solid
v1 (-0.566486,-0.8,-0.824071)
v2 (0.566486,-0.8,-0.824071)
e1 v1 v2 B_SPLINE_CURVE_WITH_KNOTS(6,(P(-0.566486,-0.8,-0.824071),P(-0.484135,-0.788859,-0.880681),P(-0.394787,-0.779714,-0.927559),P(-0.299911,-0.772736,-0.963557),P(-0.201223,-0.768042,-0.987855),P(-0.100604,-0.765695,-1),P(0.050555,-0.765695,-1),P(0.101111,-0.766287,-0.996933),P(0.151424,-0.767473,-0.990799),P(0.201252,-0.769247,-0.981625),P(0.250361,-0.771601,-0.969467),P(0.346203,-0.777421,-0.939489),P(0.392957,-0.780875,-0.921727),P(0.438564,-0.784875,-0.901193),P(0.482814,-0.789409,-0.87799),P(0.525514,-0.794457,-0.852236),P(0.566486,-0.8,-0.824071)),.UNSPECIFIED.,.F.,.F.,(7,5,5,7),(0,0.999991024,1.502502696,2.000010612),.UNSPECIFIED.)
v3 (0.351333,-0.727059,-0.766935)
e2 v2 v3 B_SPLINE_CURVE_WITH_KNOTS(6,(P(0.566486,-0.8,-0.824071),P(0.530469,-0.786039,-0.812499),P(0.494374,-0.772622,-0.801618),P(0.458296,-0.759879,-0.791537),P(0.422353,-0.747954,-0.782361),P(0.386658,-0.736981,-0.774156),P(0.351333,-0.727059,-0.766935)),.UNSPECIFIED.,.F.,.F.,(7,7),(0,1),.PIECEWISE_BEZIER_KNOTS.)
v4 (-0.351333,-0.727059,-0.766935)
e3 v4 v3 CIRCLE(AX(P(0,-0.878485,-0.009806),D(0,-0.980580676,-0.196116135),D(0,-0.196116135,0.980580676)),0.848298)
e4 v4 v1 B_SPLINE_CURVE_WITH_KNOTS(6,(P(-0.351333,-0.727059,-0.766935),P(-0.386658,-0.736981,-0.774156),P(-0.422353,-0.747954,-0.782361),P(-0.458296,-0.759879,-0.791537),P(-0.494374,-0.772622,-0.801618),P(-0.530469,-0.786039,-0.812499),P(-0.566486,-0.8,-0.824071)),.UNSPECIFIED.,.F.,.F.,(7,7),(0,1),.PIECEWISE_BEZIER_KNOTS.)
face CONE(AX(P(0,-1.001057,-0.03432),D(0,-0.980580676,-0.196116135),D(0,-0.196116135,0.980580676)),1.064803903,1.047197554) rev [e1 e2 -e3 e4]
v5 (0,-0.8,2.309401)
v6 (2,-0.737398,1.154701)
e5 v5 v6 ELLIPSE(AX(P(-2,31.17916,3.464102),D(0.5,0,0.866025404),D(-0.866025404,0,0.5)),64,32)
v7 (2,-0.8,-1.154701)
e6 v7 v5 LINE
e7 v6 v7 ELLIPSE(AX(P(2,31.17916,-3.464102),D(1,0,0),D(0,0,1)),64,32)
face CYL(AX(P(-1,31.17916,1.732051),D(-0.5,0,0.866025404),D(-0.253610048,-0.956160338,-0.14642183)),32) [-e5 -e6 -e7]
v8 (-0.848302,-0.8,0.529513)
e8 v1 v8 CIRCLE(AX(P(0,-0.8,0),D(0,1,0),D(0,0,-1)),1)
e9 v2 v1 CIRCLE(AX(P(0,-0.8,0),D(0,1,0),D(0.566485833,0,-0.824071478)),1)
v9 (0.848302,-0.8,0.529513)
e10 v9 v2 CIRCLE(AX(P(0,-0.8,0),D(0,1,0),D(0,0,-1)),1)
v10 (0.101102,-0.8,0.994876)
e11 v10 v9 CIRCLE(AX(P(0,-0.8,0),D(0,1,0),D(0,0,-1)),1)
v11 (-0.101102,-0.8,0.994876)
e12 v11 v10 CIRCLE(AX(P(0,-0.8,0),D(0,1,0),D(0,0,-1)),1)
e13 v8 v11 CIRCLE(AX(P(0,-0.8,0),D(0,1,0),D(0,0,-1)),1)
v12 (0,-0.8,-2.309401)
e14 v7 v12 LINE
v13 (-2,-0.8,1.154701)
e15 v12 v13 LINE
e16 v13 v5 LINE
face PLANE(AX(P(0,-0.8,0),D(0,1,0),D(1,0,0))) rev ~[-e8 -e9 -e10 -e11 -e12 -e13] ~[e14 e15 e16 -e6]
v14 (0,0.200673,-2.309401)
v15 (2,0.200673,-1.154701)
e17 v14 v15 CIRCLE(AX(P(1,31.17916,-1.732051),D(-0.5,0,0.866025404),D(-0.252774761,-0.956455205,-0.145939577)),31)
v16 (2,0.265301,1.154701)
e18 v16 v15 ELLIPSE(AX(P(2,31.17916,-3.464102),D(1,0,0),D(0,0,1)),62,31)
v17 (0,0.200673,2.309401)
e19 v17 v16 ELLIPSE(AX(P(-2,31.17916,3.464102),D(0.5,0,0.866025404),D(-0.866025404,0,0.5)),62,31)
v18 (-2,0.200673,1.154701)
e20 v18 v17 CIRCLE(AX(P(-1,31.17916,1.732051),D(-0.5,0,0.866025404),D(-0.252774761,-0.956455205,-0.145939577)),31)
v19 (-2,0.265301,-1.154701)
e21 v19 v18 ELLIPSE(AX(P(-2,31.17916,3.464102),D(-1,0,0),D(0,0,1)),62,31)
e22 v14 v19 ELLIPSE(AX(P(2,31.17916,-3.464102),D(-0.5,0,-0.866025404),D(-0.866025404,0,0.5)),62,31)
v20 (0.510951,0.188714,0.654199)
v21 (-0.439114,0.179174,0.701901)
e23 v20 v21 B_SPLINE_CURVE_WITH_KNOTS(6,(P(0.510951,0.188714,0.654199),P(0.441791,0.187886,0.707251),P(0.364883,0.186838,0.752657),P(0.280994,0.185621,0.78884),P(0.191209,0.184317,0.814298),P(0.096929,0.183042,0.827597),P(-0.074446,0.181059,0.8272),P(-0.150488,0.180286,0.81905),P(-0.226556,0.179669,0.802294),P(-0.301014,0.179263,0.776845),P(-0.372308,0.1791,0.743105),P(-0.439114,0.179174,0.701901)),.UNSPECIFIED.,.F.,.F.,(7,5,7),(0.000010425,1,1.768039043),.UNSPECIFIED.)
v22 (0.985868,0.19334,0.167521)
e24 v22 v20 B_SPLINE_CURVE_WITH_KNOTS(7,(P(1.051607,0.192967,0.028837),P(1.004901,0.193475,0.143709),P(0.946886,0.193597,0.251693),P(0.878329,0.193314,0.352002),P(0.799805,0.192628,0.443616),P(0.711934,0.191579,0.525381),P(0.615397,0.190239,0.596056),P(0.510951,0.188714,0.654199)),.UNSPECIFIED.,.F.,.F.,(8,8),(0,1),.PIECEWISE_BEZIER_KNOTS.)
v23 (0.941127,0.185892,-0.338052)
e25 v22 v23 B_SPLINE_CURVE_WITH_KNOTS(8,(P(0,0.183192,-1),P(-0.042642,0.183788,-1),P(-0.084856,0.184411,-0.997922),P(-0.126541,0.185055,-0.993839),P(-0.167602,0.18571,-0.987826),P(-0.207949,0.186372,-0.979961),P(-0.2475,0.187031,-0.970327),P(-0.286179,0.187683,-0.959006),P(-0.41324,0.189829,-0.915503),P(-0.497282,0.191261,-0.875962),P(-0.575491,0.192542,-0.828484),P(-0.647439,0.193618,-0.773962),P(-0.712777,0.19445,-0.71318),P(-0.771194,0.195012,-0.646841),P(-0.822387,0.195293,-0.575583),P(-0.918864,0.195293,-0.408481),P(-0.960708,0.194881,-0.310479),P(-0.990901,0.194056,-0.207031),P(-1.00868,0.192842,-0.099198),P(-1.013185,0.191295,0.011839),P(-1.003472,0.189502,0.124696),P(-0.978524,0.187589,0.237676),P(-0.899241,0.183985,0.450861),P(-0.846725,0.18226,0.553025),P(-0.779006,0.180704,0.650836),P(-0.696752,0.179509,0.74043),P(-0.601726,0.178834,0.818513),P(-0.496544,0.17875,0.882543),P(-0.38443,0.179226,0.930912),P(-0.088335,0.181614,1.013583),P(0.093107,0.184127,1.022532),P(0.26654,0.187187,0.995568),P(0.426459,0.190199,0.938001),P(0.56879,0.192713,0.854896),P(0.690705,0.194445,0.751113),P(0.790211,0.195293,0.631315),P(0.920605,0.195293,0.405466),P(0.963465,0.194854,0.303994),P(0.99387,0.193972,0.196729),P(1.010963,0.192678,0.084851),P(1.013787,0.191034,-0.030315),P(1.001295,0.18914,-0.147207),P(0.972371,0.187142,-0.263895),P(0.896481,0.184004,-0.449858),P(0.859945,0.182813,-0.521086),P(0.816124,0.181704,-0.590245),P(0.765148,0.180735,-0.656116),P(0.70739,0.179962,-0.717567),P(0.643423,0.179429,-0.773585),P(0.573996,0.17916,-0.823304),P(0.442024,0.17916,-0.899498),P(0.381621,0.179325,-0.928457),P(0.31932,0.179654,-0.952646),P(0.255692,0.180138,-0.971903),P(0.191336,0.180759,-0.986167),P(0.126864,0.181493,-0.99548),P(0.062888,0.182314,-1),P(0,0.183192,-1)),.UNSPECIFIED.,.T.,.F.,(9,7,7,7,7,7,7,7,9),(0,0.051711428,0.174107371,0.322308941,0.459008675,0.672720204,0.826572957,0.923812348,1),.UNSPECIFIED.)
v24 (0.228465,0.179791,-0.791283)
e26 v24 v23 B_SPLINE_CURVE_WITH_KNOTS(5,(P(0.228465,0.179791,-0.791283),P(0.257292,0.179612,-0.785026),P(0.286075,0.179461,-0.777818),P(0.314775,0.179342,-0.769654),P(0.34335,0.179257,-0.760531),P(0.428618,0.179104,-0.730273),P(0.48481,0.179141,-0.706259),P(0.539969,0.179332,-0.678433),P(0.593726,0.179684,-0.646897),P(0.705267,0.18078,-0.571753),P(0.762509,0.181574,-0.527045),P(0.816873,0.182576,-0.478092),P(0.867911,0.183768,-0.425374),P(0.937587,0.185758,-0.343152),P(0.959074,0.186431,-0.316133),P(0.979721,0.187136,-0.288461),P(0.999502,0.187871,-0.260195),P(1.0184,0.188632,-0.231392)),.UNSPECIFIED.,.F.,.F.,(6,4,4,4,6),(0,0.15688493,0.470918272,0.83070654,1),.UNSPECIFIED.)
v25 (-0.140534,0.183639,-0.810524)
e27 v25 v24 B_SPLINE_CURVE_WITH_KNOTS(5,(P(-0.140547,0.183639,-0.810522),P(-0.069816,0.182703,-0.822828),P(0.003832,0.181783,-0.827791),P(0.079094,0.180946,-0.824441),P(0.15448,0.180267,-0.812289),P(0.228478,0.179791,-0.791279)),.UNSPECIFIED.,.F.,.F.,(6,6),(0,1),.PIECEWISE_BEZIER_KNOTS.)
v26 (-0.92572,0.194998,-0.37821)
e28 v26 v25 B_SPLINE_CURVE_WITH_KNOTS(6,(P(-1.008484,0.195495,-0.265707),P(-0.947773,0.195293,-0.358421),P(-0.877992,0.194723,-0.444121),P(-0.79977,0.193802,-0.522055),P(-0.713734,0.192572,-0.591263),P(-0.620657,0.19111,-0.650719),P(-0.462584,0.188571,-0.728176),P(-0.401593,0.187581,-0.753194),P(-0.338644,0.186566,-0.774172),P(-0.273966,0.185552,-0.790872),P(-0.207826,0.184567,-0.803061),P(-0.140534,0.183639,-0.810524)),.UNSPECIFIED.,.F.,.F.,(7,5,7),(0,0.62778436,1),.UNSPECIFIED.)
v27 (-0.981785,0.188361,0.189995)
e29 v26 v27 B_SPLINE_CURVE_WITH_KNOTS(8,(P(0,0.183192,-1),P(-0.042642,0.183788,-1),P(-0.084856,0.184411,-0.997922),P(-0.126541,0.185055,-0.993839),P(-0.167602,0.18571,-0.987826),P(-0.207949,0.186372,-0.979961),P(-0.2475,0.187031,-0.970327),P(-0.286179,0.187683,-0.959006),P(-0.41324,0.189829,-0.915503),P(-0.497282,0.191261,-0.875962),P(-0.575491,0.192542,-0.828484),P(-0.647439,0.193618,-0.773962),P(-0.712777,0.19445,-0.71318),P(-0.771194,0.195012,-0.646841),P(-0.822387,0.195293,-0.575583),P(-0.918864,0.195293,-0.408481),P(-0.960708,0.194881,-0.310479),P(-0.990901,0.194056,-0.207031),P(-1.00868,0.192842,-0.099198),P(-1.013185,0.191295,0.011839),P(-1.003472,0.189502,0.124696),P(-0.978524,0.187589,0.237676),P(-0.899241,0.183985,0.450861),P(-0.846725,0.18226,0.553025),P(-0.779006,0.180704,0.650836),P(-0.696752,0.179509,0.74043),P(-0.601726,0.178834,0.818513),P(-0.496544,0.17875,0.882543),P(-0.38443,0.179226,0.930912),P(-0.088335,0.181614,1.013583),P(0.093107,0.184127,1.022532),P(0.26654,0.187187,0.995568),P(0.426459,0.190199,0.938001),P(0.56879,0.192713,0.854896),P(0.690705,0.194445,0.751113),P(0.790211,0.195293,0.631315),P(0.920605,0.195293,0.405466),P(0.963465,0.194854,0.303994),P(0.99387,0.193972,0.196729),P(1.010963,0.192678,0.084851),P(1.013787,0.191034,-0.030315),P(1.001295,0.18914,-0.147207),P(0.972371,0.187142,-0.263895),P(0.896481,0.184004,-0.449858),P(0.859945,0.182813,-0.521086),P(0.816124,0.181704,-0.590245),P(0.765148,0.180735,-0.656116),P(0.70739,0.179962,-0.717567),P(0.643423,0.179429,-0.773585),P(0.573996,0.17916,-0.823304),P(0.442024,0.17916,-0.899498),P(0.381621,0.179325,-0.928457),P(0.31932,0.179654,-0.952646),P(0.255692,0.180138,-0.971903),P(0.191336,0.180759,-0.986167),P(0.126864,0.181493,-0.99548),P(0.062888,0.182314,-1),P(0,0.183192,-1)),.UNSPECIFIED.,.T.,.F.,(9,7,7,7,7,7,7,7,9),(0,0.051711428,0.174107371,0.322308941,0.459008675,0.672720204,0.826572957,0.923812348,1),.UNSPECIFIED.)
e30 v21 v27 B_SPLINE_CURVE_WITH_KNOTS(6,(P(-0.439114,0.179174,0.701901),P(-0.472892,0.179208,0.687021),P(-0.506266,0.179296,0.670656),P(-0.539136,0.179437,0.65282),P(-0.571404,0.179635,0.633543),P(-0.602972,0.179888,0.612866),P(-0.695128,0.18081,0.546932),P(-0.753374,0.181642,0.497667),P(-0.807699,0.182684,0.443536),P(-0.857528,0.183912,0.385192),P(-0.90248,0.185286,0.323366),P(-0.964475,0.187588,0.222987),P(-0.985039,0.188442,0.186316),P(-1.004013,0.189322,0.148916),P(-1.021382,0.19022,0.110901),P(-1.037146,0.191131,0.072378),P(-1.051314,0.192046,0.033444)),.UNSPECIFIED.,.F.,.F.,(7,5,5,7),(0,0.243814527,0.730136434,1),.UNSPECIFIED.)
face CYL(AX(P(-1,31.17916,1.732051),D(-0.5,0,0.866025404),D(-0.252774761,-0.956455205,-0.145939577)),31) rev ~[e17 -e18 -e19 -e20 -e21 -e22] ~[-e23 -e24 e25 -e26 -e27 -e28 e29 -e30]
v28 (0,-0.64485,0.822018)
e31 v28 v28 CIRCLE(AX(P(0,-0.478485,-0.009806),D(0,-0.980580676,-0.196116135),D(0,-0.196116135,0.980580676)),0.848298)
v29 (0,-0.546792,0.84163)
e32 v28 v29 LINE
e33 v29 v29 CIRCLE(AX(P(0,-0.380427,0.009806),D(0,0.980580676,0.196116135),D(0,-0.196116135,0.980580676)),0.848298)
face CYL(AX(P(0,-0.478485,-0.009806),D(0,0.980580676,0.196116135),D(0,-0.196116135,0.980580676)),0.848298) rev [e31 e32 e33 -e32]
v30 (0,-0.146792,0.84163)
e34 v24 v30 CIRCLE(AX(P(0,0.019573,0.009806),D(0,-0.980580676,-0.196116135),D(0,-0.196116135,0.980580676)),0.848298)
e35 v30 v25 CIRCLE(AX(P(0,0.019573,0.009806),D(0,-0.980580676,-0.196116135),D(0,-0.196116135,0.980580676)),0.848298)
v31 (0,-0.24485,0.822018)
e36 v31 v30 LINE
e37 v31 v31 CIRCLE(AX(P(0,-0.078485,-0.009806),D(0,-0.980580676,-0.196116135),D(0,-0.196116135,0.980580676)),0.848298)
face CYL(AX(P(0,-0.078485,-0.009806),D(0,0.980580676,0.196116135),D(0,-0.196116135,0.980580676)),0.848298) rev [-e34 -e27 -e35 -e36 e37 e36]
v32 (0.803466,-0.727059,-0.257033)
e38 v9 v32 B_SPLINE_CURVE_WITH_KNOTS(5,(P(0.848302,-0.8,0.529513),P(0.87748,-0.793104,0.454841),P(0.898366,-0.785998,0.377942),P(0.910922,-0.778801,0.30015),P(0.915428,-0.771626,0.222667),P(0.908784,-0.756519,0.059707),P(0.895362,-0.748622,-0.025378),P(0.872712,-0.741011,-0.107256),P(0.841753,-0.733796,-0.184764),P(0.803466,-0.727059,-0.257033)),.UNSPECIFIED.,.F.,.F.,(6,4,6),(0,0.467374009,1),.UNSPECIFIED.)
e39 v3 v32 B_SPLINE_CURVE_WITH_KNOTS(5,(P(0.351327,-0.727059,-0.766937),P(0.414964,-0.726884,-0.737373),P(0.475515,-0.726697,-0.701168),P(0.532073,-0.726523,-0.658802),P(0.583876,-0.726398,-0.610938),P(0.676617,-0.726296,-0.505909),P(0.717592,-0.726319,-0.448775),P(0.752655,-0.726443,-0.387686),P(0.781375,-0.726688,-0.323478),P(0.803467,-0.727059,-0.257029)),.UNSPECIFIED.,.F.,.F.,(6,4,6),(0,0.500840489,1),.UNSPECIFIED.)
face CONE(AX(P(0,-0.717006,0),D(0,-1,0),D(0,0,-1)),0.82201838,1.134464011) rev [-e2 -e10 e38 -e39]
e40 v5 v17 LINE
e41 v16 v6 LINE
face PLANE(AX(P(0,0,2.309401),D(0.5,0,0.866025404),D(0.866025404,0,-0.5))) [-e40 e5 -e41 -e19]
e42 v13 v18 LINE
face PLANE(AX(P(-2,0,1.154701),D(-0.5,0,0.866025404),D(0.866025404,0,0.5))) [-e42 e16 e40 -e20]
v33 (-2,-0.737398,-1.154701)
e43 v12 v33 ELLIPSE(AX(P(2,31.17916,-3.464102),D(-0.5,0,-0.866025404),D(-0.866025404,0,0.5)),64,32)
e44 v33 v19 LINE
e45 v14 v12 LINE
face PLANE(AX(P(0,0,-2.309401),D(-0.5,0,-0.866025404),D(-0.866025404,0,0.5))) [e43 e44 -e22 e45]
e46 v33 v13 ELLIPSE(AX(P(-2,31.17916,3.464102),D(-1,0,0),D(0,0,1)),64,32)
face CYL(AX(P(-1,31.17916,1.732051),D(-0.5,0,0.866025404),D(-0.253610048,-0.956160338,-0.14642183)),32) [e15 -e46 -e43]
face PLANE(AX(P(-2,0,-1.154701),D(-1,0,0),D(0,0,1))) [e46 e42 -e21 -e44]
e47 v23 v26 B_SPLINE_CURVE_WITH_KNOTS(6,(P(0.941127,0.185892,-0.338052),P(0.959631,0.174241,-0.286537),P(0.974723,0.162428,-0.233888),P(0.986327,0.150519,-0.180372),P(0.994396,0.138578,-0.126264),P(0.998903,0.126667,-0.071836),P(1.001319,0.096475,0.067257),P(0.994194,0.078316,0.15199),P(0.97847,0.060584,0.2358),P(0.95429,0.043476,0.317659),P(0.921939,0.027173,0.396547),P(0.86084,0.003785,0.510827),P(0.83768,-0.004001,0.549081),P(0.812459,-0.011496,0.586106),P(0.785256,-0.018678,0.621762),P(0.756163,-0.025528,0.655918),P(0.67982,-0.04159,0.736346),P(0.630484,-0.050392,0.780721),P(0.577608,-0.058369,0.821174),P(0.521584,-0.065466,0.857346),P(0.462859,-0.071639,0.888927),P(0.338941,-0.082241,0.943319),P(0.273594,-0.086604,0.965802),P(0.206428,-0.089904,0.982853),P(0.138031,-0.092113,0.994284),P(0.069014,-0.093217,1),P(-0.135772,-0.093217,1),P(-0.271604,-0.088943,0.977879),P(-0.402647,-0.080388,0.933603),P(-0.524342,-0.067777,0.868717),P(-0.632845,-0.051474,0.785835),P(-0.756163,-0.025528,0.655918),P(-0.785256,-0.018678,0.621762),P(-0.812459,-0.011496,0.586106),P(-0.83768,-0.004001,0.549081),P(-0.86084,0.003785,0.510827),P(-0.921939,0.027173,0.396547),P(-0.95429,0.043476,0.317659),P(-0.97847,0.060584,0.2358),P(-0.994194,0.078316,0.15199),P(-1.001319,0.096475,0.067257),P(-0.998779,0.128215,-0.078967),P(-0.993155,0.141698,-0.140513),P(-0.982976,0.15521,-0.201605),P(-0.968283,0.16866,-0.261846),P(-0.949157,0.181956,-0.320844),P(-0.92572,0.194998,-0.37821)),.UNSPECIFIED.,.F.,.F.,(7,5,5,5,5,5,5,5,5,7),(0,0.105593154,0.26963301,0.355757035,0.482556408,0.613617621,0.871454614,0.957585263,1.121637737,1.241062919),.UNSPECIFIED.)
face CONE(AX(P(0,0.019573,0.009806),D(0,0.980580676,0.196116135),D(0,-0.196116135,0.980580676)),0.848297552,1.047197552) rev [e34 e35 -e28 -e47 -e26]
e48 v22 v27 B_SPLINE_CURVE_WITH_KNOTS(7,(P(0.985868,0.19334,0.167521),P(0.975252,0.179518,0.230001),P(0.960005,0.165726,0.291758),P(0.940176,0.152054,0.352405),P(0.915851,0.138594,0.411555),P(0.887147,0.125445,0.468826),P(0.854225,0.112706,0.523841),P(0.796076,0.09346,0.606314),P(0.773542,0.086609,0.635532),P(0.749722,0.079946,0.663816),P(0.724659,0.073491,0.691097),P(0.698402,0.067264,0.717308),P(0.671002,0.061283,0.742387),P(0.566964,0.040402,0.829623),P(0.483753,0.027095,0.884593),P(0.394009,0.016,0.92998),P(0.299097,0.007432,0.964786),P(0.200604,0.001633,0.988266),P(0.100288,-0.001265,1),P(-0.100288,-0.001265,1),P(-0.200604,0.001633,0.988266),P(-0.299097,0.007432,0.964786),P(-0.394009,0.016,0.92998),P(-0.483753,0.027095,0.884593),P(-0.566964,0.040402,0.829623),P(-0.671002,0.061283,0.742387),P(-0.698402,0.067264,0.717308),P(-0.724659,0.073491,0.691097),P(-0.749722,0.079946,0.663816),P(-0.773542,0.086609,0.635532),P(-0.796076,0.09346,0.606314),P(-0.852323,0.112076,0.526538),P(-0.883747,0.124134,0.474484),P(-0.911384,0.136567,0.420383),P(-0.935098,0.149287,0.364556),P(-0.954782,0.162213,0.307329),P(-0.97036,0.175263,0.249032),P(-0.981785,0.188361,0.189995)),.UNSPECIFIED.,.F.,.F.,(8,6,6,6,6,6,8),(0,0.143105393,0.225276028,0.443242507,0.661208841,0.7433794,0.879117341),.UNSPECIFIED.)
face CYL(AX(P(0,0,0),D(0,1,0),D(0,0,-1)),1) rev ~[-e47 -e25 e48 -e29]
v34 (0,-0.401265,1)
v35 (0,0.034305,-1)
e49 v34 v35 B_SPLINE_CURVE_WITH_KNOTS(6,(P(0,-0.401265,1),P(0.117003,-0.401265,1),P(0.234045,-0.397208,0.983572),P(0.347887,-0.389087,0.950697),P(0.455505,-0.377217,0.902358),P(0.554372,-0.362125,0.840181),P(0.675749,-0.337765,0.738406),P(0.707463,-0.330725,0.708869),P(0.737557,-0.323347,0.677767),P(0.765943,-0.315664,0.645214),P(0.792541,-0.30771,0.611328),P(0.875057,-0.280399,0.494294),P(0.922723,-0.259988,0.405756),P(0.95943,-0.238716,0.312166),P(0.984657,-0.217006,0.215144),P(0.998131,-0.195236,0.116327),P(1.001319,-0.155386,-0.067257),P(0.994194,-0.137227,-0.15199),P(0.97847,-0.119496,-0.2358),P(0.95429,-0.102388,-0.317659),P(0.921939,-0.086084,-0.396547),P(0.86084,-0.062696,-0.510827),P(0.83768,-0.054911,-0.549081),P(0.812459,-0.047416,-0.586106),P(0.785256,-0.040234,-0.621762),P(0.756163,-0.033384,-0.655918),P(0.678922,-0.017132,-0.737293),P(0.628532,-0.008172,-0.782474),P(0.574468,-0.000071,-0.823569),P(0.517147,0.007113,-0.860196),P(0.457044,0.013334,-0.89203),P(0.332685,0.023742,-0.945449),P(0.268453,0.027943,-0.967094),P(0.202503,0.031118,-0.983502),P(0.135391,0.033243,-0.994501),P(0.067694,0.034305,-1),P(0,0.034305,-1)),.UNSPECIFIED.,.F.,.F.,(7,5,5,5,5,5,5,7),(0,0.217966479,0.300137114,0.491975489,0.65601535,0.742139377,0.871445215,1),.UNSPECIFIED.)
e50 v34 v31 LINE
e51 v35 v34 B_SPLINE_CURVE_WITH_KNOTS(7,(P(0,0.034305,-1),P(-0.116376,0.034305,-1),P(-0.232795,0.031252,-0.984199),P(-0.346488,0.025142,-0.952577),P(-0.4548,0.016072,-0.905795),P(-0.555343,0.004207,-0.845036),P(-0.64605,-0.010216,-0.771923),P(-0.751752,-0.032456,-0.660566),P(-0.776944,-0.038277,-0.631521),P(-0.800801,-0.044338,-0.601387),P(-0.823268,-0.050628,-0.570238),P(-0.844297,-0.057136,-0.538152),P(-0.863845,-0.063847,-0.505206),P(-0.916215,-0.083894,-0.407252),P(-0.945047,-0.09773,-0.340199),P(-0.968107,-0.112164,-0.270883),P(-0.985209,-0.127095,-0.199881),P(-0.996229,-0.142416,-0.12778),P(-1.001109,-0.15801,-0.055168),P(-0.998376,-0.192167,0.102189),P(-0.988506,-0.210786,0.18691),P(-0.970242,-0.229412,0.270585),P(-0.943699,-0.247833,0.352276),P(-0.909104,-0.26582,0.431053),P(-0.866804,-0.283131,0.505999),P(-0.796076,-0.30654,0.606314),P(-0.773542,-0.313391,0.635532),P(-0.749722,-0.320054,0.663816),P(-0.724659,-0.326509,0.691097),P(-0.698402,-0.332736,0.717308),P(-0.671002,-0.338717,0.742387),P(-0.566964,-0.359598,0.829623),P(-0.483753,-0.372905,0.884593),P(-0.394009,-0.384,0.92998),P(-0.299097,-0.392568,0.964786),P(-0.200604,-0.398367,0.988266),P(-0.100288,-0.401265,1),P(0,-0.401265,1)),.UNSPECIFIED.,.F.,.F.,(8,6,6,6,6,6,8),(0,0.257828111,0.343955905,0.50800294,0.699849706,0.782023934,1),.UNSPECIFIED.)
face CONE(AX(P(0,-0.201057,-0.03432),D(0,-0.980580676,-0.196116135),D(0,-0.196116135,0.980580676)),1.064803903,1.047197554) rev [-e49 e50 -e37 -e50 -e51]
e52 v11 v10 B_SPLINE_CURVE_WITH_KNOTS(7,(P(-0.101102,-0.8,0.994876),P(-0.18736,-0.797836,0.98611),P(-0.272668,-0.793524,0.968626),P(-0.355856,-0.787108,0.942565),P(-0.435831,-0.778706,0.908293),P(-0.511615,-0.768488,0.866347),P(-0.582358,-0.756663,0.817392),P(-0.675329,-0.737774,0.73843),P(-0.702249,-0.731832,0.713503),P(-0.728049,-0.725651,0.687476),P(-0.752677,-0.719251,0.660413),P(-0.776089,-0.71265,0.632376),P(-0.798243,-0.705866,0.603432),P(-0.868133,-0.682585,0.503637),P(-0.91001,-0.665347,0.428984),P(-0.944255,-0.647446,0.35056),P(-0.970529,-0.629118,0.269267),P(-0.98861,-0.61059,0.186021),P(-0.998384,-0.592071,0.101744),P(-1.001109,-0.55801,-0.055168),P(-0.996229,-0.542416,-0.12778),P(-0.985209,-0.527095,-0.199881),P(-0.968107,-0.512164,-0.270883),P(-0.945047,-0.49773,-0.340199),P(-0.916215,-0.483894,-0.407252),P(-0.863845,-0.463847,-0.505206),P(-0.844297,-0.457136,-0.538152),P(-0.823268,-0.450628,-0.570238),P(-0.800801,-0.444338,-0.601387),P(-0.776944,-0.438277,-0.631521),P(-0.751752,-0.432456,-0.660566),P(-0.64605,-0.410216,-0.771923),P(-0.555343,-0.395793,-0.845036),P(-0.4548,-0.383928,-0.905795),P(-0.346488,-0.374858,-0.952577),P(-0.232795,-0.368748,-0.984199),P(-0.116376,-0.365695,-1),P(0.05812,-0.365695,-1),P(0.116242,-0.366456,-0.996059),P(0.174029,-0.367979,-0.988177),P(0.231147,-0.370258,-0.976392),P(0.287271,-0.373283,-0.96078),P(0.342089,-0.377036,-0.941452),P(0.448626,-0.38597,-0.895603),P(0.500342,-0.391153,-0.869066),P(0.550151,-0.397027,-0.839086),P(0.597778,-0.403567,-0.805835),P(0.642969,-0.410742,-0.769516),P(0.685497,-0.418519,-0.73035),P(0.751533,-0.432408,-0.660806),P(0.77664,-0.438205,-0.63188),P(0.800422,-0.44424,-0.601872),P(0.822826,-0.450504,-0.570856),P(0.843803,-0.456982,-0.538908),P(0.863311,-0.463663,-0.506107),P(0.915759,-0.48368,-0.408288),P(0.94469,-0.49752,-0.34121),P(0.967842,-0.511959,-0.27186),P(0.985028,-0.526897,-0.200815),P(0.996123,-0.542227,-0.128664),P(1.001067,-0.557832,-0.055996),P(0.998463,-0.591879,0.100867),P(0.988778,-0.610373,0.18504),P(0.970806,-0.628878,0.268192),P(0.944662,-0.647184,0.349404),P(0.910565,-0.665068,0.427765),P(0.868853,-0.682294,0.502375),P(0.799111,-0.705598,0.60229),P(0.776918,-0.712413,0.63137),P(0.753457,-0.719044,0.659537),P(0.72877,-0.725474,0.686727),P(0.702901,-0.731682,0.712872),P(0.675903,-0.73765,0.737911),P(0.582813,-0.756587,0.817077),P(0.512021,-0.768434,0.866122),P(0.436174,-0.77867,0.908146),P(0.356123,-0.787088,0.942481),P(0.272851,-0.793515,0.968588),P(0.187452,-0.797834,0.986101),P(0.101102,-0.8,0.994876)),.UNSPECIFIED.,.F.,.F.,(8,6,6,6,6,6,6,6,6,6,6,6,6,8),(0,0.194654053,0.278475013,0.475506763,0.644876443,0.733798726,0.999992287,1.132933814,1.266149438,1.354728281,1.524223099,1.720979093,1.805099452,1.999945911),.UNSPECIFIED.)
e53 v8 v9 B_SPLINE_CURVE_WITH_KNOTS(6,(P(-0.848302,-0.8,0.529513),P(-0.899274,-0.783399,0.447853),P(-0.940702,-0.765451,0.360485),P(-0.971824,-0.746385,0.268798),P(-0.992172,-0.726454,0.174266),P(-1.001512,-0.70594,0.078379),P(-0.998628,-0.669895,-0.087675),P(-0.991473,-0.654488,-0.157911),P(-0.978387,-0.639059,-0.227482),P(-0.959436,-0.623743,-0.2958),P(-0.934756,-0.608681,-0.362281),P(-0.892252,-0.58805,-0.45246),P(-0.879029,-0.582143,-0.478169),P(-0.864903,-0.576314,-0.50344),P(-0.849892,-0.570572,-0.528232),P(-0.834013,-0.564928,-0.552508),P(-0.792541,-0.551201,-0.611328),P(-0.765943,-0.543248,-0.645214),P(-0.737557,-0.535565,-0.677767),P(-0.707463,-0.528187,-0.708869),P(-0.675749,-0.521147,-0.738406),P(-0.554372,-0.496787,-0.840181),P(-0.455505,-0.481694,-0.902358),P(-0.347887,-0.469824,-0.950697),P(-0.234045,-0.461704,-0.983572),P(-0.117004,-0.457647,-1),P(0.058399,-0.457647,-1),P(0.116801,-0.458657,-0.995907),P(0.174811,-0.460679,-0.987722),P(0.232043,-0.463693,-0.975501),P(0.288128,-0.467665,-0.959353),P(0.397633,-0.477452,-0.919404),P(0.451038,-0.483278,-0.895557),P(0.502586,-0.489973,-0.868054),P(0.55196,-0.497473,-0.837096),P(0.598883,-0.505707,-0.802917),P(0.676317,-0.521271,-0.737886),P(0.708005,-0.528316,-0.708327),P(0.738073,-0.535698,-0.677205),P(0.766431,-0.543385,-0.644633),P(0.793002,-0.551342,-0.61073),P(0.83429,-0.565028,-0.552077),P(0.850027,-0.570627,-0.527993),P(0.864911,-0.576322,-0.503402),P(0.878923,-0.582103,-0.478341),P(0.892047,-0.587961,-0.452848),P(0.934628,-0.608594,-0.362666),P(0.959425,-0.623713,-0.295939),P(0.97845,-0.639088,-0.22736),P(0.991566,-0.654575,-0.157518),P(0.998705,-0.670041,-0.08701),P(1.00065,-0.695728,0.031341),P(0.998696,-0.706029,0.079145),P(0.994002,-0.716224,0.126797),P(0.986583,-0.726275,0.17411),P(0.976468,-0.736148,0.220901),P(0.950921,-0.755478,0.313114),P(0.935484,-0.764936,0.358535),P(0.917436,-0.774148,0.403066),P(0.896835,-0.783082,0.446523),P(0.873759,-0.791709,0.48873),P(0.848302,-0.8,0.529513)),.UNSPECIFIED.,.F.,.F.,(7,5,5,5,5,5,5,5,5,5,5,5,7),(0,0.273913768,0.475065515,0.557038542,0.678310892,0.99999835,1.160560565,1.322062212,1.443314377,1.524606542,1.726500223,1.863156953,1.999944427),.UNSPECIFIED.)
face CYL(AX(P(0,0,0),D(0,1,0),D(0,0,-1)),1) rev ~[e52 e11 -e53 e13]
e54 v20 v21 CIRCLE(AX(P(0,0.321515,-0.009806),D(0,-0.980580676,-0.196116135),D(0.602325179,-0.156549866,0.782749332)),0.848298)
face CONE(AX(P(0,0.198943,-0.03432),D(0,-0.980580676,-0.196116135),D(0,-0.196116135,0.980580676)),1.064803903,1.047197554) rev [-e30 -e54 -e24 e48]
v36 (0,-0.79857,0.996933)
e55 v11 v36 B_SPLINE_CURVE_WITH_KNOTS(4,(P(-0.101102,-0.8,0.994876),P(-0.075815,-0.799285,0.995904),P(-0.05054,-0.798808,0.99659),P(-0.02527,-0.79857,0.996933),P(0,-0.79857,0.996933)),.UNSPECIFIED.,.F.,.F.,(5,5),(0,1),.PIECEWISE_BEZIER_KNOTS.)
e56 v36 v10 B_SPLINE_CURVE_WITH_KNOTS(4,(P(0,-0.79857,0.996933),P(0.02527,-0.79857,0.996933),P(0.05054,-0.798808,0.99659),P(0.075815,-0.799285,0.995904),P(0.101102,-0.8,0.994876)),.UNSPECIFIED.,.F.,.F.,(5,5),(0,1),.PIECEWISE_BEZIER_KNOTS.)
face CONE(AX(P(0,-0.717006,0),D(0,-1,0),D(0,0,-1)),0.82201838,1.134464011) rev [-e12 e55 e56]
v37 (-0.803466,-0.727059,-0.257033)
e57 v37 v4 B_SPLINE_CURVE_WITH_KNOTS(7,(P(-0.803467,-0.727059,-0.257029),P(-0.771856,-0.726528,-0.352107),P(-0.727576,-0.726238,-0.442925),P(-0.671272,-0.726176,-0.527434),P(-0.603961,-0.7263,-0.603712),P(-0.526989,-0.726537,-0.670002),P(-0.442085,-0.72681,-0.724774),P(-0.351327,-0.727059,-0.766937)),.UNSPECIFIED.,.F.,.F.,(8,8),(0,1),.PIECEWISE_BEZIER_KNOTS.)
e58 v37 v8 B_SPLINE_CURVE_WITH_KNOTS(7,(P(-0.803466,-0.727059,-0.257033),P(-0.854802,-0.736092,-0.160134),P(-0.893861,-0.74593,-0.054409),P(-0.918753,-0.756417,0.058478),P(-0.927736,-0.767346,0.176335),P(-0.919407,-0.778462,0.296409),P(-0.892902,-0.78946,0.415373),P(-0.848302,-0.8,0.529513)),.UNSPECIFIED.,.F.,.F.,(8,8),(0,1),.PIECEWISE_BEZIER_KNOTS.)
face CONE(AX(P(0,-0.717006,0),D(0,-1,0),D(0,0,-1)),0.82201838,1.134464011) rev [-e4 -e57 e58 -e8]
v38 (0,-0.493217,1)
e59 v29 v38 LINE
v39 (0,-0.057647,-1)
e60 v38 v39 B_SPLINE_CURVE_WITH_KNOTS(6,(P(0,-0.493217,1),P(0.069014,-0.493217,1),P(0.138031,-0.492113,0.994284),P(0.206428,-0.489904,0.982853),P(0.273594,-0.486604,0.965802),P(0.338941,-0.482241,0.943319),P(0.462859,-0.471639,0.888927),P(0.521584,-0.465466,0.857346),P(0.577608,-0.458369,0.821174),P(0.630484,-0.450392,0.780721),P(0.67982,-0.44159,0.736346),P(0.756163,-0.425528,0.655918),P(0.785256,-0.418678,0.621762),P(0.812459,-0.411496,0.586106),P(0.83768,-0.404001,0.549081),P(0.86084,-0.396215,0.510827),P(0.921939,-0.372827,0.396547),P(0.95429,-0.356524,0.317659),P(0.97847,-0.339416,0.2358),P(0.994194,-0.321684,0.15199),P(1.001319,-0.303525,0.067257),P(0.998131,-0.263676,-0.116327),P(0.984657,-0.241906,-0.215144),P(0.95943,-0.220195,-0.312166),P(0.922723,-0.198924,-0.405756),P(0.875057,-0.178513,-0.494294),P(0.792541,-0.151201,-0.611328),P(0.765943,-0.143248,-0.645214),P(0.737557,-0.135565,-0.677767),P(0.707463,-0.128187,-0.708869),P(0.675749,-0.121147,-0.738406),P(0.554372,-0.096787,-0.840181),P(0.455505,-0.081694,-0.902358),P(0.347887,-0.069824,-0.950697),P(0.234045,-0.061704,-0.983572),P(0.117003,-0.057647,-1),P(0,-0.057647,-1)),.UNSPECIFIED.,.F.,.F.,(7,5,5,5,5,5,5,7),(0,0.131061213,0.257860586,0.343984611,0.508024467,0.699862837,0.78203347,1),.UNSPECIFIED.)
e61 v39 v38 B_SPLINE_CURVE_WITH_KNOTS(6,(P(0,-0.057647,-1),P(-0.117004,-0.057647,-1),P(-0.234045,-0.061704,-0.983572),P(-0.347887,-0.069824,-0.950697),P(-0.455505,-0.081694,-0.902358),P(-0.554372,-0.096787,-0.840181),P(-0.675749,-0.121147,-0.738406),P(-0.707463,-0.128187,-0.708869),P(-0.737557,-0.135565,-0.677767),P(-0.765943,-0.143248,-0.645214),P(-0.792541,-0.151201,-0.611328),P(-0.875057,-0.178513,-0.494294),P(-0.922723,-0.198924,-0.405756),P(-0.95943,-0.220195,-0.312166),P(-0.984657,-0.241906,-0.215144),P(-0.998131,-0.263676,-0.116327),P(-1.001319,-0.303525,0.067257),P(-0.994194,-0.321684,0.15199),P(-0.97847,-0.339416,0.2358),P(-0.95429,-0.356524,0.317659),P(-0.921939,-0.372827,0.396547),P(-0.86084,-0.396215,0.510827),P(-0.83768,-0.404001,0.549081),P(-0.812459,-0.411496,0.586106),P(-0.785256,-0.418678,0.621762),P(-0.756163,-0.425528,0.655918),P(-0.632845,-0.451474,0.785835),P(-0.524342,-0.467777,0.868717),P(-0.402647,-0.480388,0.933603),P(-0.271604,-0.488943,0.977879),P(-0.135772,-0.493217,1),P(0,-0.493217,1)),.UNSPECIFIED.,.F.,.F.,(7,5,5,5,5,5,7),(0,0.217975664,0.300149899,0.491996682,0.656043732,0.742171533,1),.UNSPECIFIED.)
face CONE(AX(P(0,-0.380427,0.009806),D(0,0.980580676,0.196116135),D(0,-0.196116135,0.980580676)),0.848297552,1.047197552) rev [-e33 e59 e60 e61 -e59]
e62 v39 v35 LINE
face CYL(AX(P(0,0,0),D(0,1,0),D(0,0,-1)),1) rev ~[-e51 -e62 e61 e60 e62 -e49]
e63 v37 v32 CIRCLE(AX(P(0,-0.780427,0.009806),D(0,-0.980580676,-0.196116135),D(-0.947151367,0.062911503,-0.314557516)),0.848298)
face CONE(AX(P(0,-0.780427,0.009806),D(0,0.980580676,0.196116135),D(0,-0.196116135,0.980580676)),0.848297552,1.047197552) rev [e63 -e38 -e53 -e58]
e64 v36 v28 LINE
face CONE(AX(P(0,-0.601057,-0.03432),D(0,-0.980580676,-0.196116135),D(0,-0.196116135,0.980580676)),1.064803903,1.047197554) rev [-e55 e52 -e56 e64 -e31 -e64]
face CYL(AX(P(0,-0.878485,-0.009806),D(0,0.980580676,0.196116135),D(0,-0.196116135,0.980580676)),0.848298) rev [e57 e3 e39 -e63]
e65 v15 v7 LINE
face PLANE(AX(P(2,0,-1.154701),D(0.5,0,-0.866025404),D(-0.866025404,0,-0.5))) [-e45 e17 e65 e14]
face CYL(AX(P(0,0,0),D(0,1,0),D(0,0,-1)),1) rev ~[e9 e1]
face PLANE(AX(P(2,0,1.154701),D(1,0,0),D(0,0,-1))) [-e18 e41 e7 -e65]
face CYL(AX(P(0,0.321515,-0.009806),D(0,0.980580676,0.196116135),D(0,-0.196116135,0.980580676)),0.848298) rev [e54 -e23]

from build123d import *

# Parameters (mm, degrees)
EXTRUDE1_DEPTH      = 0.8
SKETCH2_W           = 1
SKETCH2_H           = 1.6
LPATTERN1_COUNT     = 4
LPATTERN1_PITCH     = 0.4
LPATTERN1_COL_COUNT = 2
LPATTERN1_COL_PITCH = 0.4
CUT_EXTRUDE1_DEPTH  = 10


with BuildPart() as part:
    # Sketch1 → Extrude1 (new, symmetric)
    with BuildSketch(Plane(origin=(0, 0, 0), x_dir=(1, 0, 0), z_dir=(0, 1, 0))):
        Polygon((0, 2.309401077), (-2, 1.154700538), (-2, -1.154700538), (0, -2.309401077), (2, -1.154700538), (2, 1.154700538), align=None)
    extrude(amount=EXTRUDE1_DEPTH, both=True)

    # Sketch4 → Cut-Revolve2 (revolve, cut)
    with BuildSketch(Plane(origin=(0, 0, 0), x_dir=(0, 0, -1), z_dir=(1, 0, 0))):
        Polygon((0, 0.8), (1, 0.8), (0.82201838, 0.717005807), (0.82201838, -0.717005807), (1, -0.8), (0, -0.8), align=None)
    revolve(axis=Axis((0, 0.8, 0), (0, 1, 0)), mode=Mode.SUBTRACT)


with BuildPart() as body_2:
    # Sketch2 → Revolve1 (revolve)
    with BuildSketch(Plane(origin=(0, 0, 0), x_dir=(0, 0, -1), z_dir=(1, 0, 0))):
        with Locations((0.5, 0)):
            Rectangle(SKETCH2_W, SKETCH2_H)
    revolve(axis=Axis((0, -1.8, 0), (0, 1, 0)))

    # Sketch3 → Cut-Revolve1 (revolve, cut)
    with BuildSketch(Plane(origin=(0, 0, 0), x_dir=(0, 0, -1), z_dir=(1, 0, 0)), mode=Mode.PRIVATE) as cut_revolve1_sk:
        Polygon((1.009805807, 0.750970966), (1.078446454, 0.40776773), (0.841629993, 0.487879925), (0.82201838, 0.585937993), align=None)
    cut_revolve1 = revolve(cut_revolve1_sk.sketch.rotate(Axis((0, 0.8, 0.085891176), (0, -0.9805806756909201, -0.19611613513818416)), 180), axis=Axis((0, 0.8, 0.085891176), (0, -0.9805806756909201, -0.19611613513818416)), mode=Mode.SUBTRACT)

    # LPattern1: Cut-Revolve1 ×4
    with Locations(*[(0, -i * LPATTERN1_PITCH, 0) for i in range(1, LPATTERN1_COUNT)]):
        add(cut_revolve1, mode=Mode.SUBTRACT)

    # LPattern1 col: Cut-Revolve1 ×2
    with Locations(*[(0, i * LPATTERN1_COL_PITCH, 0) for i in range(1, LPATTERN1_COL_COUNT)]):
        add(cut_revolve1, mode=Mode.SUBTRACT)


with BuildPart() as part_1:
    add(part.part)

    # Combine1: cut body 2
    add(body_2.part, mode=Mode.SUBTRACT)

    # Sketch6 → Cut-Extrude1 (cut)
    with BuildSketch(Plane(origin=(-1, 0, 1.732050808), x_dir=(0.8660254037844386, 0, 0.5), z_dir=(-0.5000000000000001, 0, 0.8660254037844387))):
        with BuildLine():
            ThreePointArc((-9.048253748, 1.529048513), (0, 0.179159881), (9.048253748, 1.529048513))
            add(Edge.make_bspline(
                [(9.048253748, 1.529048513), (0.30516196, 6.548590319), (-9.048253748, 1.529048513)],
                knots=[0, 0, 0, 1, 1, 1], degree=2))
        make_face()
        with BuildLine():
            ThreePointArc((-9.370997107, 0.58202908), (0, -0.820840119), (9.370997107, 0.58202908))
            add(Edge.make_bspline(
                [(-9.370997107, 0.58202908), (0.133381253, -6.42773587), (9.370997107, 0.58202908)],
                knots=[0, 0, 0, 1, 1, 1], degree=2))
        make_face()
    extrude(amount=-CUT_EXTRUDE1_DEPTH, mode=Mode.SUBTRACT)


solid = part_1.part
